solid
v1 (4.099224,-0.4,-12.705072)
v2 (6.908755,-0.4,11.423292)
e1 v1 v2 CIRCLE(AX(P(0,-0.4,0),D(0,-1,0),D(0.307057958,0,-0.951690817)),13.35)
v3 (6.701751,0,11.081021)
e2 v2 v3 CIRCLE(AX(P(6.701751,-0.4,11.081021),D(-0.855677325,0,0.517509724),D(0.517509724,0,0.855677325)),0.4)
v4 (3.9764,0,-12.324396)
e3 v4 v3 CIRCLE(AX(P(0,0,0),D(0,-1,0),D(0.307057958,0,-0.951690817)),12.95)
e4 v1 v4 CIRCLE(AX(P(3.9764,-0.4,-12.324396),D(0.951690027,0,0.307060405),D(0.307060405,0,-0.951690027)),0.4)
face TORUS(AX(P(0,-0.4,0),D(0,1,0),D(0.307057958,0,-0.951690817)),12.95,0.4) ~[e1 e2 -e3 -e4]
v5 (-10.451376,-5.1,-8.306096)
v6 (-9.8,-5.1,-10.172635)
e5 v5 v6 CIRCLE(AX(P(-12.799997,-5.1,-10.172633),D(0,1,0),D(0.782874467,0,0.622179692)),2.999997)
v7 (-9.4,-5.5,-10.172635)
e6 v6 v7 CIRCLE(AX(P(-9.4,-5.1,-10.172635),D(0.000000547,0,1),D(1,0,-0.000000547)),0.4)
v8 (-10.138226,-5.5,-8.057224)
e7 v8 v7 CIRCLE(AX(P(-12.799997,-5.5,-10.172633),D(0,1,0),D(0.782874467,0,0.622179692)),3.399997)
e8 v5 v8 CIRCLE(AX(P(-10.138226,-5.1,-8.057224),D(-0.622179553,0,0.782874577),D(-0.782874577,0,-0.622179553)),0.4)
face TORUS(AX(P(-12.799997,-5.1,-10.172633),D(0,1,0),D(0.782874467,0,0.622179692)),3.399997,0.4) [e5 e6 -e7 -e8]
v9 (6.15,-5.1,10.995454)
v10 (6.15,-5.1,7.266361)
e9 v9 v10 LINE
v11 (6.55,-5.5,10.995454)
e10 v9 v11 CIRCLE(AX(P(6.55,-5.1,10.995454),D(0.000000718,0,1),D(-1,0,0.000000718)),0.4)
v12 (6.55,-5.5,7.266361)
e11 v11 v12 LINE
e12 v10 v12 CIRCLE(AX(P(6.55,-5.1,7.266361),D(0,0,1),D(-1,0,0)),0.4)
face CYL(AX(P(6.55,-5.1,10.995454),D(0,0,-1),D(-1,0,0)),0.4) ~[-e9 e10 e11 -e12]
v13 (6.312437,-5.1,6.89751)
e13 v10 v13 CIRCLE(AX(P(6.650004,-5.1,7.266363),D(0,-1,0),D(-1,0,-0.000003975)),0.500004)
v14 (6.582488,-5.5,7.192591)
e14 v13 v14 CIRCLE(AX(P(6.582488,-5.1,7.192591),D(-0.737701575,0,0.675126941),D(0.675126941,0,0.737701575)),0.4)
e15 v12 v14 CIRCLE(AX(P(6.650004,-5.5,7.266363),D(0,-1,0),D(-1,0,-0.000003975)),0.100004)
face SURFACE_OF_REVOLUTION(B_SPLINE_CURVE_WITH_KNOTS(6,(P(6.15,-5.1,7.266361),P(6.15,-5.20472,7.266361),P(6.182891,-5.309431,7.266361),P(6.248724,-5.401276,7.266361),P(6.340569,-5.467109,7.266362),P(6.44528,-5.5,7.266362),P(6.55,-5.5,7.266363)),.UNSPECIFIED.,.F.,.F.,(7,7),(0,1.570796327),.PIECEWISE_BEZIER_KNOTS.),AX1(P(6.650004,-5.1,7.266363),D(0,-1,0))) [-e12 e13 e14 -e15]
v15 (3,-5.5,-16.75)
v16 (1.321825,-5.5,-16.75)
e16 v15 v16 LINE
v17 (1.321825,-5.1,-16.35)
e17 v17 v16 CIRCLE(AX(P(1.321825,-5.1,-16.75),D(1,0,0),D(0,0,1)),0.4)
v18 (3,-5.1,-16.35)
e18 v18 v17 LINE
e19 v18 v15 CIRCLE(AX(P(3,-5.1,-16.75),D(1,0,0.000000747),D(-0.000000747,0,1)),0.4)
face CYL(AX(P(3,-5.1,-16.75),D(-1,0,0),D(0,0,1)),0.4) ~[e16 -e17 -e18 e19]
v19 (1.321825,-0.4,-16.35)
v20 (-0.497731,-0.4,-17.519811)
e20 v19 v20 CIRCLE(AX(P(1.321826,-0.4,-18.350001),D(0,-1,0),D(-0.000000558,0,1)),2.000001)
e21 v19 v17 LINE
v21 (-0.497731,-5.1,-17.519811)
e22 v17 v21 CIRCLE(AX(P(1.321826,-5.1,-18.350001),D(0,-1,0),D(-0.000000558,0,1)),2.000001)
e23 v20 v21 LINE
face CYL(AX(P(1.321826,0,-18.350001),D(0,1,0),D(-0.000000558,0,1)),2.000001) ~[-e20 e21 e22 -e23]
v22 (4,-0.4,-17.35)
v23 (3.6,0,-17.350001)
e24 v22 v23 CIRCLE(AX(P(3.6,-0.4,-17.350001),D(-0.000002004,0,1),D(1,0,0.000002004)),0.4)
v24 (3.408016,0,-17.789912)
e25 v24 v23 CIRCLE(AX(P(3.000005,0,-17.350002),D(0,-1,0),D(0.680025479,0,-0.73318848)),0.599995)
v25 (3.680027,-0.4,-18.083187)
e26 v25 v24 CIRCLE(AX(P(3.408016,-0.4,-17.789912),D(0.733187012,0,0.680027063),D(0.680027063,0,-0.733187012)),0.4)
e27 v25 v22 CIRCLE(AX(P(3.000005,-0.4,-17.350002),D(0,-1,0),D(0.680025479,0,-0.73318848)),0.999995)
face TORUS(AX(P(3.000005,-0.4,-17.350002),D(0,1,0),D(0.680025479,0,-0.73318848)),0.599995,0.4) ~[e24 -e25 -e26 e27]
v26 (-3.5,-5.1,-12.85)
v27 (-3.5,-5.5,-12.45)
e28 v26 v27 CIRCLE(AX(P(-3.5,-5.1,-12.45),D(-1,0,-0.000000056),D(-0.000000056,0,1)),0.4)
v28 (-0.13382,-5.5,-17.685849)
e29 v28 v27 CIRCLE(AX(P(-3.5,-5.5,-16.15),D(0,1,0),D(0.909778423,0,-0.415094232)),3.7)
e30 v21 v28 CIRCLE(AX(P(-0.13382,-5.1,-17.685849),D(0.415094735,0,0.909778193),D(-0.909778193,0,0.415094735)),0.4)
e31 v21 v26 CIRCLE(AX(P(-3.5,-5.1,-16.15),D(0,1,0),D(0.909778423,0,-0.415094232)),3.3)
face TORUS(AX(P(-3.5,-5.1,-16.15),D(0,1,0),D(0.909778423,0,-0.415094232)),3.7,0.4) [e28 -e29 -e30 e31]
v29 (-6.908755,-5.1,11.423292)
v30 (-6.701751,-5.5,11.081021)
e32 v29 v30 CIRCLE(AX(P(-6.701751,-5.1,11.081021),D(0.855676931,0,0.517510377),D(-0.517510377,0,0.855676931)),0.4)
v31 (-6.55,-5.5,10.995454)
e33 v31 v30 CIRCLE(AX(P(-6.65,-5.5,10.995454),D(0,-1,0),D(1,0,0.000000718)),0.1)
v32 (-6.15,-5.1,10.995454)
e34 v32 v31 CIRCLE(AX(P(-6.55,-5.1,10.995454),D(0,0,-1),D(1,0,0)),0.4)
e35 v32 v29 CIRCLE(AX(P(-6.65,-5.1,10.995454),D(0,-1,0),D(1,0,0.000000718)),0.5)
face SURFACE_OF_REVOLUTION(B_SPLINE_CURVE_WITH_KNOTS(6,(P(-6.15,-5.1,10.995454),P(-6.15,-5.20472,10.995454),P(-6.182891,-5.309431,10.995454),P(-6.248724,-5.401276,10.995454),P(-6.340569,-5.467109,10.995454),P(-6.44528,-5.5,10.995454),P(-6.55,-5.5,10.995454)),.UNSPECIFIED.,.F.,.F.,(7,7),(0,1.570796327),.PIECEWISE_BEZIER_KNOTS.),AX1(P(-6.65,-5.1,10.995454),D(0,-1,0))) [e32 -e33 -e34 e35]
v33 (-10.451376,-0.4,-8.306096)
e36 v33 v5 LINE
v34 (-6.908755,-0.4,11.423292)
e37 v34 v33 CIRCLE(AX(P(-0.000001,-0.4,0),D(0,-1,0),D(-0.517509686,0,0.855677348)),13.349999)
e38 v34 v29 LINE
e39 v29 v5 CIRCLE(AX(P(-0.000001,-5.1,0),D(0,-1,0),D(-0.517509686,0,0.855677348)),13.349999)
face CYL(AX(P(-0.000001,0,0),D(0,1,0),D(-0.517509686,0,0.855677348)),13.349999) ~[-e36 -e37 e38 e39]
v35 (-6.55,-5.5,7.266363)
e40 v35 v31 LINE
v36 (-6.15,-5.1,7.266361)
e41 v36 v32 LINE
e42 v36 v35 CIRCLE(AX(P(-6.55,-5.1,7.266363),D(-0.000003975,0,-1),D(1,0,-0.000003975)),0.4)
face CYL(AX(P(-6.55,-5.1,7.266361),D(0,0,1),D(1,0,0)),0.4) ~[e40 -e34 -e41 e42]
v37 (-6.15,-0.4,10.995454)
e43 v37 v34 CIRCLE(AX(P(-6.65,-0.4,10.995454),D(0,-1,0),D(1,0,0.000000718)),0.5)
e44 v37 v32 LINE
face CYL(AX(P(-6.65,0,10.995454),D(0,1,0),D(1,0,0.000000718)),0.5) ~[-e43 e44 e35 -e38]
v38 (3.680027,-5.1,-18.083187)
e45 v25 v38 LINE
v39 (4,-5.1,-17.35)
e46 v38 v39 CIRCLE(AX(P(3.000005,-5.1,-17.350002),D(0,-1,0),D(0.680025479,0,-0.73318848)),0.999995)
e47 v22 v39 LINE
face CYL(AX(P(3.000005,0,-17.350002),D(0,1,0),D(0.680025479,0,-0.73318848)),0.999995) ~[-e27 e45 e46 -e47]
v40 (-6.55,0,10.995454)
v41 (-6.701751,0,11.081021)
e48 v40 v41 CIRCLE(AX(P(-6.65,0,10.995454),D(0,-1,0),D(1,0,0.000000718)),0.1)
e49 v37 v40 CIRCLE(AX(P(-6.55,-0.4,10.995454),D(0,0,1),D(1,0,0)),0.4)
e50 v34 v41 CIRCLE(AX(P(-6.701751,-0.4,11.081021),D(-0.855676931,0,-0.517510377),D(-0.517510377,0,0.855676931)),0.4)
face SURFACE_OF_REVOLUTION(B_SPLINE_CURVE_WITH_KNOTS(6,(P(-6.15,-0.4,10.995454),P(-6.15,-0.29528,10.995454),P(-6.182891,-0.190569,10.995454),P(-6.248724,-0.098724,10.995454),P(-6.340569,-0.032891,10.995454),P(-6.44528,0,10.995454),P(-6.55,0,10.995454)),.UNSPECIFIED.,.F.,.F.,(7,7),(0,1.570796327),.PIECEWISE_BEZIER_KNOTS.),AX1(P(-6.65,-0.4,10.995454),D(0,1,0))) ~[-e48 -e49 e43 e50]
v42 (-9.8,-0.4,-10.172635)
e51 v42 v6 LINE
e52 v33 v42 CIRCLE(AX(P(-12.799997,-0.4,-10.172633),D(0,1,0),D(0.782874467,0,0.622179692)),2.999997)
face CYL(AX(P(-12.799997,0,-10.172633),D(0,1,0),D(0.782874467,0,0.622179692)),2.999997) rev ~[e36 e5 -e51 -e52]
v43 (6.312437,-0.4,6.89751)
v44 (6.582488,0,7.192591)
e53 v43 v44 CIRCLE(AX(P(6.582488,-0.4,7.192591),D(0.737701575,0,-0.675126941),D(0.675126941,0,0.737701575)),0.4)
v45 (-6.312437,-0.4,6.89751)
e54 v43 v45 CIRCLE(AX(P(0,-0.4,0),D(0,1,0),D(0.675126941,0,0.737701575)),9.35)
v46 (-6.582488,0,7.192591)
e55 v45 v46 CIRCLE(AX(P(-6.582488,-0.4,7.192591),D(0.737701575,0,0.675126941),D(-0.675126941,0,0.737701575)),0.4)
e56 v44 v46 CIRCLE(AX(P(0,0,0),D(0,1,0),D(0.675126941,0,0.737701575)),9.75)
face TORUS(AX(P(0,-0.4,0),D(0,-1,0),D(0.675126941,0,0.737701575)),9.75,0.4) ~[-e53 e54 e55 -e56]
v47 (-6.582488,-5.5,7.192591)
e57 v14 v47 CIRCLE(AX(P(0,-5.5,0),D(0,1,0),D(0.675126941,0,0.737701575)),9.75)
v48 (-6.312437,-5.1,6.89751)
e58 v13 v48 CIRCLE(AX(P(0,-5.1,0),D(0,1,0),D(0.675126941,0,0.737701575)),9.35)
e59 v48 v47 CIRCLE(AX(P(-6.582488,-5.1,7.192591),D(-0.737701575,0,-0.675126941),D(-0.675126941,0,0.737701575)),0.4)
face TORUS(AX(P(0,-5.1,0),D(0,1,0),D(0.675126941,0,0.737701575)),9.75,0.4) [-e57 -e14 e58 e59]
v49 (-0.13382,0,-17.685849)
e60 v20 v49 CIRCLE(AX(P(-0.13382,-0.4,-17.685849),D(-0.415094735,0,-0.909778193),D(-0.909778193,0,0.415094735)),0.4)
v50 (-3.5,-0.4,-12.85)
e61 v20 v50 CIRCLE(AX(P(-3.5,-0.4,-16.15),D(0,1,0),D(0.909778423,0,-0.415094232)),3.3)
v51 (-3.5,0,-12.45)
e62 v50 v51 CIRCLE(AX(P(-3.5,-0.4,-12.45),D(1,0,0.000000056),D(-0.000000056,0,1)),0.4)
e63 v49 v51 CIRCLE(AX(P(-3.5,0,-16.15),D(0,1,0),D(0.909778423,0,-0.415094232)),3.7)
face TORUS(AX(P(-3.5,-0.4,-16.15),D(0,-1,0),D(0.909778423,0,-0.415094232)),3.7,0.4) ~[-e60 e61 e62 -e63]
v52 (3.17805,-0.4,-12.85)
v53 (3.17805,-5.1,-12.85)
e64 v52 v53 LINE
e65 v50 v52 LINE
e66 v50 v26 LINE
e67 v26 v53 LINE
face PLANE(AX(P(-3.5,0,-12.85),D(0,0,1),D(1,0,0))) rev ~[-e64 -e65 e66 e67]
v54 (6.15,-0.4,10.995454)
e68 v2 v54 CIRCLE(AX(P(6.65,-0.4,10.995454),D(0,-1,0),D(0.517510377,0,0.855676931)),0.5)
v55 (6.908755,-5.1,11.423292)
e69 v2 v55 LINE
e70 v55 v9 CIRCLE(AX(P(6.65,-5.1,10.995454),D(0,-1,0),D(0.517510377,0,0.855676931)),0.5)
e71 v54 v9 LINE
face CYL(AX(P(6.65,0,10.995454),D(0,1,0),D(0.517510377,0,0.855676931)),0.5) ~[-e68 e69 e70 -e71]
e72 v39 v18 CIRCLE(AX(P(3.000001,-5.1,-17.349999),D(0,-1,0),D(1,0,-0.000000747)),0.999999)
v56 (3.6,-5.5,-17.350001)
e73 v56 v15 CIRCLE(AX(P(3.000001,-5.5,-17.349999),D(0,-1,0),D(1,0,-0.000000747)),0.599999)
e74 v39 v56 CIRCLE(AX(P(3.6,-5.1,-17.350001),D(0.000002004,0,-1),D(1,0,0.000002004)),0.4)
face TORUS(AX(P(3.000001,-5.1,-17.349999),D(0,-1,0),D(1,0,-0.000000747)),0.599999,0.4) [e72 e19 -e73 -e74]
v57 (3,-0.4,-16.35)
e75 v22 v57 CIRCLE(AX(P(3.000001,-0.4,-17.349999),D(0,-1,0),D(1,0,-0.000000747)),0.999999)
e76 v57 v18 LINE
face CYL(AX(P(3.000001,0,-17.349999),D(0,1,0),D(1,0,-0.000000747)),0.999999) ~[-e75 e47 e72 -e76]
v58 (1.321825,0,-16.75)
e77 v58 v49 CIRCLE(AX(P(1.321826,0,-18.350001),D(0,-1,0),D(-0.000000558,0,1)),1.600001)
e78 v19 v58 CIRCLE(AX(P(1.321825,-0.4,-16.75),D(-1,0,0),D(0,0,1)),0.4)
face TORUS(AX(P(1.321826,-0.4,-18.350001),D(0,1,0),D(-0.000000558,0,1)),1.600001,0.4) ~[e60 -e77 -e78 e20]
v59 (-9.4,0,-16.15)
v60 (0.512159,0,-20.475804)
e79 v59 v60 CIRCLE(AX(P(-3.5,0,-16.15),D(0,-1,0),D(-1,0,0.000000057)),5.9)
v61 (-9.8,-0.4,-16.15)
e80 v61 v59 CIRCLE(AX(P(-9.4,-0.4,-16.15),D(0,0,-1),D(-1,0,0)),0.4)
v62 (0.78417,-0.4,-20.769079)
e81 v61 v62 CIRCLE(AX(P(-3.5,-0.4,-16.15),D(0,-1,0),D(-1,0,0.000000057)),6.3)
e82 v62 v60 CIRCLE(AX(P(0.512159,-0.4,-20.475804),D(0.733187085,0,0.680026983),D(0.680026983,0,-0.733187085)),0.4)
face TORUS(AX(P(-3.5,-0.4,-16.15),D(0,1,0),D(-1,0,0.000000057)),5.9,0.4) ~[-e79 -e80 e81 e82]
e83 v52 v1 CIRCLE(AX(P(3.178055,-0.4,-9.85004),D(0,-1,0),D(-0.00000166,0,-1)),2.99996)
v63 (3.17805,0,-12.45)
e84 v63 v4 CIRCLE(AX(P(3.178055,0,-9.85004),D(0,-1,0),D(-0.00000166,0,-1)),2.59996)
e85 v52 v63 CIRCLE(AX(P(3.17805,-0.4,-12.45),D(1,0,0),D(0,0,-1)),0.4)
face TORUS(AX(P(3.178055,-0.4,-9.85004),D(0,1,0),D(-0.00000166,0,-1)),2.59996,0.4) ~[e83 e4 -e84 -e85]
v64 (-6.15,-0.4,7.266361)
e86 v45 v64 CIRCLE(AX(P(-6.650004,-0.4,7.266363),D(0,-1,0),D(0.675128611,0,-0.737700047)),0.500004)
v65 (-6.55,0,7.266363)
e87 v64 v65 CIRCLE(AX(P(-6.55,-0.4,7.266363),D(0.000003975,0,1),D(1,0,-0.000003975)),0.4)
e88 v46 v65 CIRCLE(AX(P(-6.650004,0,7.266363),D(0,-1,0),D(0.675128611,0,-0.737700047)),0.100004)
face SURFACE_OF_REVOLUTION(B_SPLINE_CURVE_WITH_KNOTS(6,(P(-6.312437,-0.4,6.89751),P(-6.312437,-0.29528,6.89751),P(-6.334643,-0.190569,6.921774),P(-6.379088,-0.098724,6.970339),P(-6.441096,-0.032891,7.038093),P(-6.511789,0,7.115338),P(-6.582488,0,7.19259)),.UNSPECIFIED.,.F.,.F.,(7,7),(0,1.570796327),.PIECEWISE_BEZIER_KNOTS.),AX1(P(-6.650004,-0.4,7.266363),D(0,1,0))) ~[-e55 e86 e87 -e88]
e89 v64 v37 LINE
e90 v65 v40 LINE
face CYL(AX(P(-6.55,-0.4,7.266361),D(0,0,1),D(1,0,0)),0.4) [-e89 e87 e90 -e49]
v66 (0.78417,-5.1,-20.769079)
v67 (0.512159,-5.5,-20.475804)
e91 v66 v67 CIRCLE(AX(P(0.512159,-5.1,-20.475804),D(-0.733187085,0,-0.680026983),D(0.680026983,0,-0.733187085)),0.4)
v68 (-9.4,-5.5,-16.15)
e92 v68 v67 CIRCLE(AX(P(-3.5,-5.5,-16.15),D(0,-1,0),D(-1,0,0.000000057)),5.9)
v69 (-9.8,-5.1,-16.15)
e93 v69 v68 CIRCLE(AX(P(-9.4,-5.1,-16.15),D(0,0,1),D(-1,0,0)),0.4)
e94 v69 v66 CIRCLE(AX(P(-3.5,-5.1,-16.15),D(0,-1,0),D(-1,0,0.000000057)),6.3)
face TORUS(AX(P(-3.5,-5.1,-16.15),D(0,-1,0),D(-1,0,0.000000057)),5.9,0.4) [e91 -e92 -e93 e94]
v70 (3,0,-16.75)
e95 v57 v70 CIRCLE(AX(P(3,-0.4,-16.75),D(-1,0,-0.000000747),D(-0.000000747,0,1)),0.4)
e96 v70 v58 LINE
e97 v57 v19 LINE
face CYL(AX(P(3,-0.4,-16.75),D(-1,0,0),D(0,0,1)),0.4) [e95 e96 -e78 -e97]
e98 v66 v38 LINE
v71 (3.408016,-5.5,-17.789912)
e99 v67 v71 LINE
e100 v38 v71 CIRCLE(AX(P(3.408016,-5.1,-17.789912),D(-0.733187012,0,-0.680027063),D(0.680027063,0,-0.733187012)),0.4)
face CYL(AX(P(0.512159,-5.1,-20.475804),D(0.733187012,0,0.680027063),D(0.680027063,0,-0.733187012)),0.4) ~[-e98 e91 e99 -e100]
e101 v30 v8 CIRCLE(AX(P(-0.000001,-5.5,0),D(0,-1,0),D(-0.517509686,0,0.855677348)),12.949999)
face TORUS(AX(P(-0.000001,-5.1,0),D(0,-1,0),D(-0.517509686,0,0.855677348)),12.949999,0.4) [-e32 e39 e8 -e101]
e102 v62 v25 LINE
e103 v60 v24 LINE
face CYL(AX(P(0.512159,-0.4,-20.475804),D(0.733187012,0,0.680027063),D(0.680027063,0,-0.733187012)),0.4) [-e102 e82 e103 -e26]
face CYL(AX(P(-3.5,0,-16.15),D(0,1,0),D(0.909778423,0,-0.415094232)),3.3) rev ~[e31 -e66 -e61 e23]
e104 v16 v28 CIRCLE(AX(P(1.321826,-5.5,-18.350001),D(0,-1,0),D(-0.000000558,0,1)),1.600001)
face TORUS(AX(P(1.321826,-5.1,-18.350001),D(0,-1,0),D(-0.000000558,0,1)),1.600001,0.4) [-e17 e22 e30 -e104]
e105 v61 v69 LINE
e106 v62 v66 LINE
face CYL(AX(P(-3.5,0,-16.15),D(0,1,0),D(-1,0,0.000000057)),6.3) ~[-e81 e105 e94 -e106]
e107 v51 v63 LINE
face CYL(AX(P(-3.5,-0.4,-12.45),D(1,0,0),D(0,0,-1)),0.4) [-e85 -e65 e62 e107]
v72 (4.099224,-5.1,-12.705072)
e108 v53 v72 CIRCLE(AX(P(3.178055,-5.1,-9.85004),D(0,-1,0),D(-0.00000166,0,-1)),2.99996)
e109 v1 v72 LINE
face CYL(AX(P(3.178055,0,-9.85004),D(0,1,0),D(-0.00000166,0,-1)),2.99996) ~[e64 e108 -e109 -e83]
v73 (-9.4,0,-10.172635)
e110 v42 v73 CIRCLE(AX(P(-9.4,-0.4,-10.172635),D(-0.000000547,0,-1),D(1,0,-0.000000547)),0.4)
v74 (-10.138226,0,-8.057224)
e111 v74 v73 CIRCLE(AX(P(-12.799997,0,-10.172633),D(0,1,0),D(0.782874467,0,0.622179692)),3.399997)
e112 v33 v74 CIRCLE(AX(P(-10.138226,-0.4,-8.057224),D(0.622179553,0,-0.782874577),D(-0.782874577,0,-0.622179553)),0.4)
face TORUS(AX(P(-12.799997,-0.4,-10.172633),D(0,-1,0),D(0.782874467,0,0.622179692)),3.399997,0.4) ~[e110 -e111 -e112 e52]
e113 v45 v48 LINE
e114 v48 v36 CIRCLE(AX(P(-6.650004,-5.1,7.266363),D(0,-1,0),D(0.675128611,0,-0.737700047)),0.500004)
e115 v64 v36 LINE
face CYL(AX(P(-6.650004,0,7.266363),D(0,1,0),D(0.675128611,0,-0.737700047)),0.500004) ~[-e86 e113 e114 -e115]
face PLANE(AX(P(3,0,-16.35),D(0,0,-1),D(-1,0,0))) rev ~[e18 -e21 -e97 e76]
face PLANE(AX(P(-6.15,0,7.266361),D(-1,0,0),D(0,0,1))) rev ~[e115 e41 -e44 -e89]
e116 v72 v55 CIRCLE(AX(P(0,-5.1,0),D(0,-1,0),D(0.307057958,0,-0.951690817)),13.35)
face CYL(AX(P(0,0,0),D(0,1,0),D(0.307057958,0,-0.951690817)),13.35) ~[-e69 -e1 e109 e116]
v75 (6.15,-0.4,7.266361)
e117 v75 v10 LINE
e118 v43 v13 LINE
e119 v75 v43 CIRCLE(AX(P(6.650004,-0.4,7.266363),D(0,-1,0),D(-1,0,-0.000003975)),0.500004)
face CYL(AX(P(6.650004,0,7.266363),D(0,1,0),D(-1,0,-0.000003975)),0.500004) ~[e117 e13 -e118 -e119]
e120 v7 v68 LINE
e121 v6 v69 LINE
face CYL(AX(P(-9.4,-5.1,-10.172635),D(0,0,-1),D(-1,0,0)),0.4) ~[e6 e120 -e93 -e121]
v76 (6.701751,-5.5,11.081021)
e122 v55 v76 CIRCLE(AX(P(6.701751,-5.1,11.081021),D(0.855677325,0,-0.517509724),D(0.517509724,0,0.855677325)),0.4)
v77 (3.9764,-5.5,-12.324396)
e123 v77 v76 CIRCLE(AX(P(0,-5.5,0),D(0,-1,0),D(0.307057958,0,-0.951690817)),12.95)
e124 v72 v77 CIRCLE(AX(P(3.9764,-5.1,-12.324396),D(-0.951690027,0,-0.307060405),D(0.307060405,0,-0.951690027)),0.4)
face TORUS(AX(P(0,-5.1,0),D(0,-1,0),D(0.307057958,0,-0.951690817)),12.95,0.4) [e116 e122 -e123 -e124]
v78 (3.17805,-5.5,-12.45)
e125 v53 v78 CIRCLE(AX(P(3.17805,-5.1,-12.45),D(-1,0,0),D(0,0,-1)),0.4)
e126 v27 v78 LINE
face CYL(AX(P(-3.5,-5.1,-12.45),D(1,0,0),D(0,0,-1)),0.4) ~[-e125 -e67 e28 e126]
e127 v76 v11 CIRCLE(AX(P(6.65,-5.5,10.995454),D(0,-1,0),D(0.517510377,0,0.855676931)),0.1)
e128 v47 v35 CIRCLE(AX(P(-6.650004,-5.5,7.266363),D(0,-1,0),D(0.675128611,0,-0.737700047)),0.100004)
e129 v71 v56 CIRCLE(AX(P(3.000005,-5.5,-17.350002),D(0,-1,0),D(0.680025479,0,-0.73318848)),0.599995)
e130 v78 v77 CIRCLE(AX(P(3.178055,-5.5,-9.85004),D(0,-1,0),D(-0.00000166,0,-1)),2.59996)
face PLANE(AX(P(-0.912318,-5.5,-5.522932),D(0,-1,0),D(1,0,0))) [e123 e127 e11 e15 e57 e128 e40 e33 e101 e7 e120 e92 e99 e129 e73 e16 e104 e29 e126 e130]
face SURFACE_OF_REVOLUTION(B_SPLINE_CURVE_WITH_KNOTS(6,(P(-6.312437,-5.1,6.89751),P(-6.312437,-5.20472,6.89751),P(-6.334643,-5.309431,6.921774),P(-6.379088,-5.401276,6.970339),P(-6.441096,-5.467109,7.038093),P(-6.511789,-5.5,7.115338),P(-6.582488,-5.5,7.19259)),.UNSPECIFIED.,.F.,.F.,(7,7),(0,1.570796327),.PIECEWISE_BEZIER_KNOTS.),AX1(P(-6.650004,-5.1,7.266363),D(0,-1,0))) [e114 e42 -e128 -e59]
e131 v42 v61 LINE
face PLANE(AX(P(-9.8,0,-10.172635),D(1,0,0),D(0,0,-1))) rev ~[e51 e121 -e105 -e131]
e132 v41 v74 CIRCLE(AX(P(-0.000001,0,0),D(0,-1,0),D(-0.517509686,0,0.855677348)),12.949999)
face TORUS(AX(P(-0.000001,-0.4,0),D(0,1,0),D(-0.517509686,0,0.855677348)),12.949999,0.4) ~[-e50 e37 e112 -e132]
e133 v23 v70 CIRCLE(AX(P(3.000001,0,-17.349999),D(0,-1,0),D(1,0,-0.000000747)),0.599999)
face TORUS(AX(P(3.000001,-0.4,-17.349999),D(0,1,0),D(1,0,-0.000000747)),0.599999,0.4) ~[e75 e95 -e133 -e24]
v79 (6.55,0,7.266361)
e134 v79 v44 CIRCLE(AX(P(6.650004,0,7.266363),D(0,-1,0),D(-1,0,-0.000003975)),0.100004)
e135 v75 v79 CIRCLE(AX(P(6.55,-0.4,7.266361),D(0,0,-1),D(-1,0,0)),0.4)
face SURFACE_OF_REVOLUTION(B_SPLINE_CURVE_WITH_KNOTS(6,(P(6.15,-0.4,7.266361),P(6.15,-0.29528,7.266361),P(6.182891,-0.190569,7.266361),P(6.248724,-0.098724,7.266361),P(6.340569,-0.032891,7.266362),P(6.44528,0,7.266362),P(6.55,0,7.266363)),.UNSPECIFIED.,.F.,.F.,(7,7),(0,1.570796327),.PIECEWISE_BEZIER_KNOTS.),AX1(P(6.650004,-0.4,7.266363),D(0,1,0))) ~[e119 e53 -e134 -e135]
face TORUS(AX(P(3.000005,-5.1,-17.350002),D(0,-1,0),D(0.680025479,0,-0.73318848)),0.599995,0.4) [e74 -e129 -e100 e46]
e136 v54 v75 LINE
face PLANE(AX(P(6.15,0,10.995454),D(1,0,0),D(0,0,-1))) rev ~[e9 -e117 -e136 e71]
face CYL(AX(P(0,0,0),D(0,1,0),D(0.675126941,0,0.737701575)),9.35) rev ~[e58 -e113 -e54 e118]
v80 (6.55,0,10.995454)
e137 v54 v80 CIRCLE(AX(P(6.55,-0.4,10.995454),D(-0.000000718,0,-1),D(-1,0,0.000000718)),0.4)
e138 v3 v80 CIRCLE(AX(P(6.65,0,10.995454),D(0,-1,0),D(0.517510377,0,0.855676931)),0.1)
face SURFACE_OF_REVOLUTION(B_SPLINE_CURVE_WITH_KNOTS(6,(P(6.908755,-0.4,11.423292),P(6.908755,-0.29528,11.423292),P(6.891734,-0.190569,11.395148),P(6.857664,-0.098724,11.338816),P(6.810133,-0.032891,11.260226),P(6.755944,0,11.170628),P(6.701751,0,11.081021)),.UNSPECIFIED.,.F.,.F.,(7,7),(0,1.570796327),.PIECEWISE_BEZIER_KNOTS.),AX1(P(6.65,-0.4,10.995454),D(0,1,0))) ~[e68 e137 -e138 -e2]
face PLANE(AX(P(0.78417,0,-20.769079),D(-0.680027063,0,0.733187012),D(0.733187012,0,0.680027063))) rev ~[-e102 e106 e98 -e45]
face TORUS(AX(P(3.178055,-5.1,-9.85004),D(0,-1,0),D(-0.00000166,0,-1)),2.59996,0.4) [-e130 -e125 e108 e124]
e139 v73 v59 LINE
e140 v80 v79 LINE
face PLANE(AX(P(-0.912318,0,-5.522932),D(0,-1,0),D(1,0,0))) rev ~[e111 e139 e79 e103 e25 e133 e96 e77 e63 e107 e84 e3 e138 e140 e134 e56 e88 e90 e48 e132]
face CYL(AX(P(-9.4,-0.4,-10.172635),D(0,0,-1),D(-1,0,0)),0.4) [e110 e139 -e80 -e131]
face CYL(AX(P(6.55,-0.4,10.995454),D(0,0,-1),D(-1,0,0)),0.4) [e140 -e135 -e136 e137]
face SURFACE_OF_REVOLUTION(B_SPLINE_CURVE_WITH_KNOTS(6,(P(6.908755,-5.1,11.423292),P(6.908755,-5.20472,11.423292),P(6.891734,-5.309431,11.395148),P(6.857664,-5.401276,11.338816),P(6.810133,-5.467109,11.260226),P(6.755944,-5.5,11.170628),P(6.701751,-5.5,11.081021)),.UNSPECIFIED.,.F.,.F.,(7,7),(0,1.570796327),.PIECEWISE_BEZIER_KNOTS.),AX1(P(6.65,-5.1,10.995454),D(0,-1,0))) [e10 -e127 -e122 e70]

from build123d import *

# Parameters (mm, degrees)
F1_DEPTH = 5.5
F2_R     = 0.4


with BuildPart() as f1:
    # F0 (on Front) → F1 (new body)
    with BuildSketch(Plane.XZ):
        with BuildLine():
            ThreePointArc((6.312437, 6.89751), (0, -9.35), (-6.312437, 6.89751))
            ThreePointArc((-6.312437, 6.89751), (-6.192408, 7.064844), (-6.15, 7.266361))
            Line((-6.15, 7.266361), (-6.15, 10.995454))
            ThreePointArc((-6.15, 10.995454), (-6.404416, 11.430986), (-6.908755, 11.423292))
            ThreePointArc((-6.908755, 11.423292), (-13.139853, 2.3594), (-10.451376, -8.306096))
            ThreePointArc((-10.451376, -8.306096), (-9.967521, -9.184169), (-9.8, -10.172635))
            Line((-9.8, -10.172635), (-9.8, -16.15))
            ThreePointArc((-9.8, -16.15), (-6.019894, -21.924092), (0.78417, -20.769079))
            Line((0.78417, -20.769079), (3.680027, -18.083187))
            ThreePointArc((3.680027, -18.083187), (3.916523, -17.749983), (4, -17.35))
            ThreePointArc((4, -17.35), (3.707107, -16.642893), (3, -16.35))
            Line((3, -16.35), (1.321825, -16.35))
            ThreePointArc((1.321825, -16.35), (0.240247, -16.667684), (-0.497731, -17.519811))
            ThreePointArc((-0.497731, -17.519811), (-6.275822, -17.934604), (-3.5, -12.85))
            Line((-3.5, -12.85), (3.17805, -12.85))
            ThreePointArc((3.17805, -12.85), (3.644302, -12.813547), (4.099224, -12.705072))
            ThreePointArc((4.099224, -12.705072), (13.260407, -1.544055), (6.908755, 11.423292))
            ThreePointArc((6.908755, 11.423292), (6.404416, 11.430986), (6.15, 10.995454))
            Line((6.15, 10.995454), (6.15, 7.266361))
            ThreePointArc((6.15, 7.266361), (6.192408, 7.064844), (6.312437, 6.89751))
        make_face()
    extrude(amount=F1_DEPTH)

    # F2
    f2_edges = [f1.edges().sort_by_distance(p)[0] for p in [
        (0, -5.5, -9.35),
        (-6.192408, -5.5, 7.064844),
        (-6.15, -5.5, 9.130907),
        (-6.404416, -5.5, 11.430986),
        (-13.139853, -5.5, 2.3594),
        (-9.967521, -5.5, -9.184169),
        (-9.8, -5.5, -13.161317),
        (-6.019894, -5.5, -21.924092),
        (2.232099, -5.5, -19.426133),
        (3.93091, -5.5, -16.984752),
        (2.160913, -5.5, -16.35),
        (0.240247, -5.5, -16.667684),
        (-6.275822, -5.5, -17.934604),
        (-0.160975, -5.5, -12.85),
        (3.644302, -5.5, -12.813547),
        (13.260407, -5.5, -1.544055),
        (6.404416, -5.5, 11.430986),
        (6.15, -5.5, 9.130907),
        (6.192408, -5.5, 7.064844),
        (0, 0, -9.35),
        (-6.192408, 0, 7.064844),
        (-6.15, 0, 9.130907),
        (-6.404416, 0, 11.430986),
        (-13.139853, 0, 2.3594),
        (-9.967521, 0, -9.184169),
        (-9.8, 0, -13.161317),
        (-6.019894, 0, -21.924092),
        (2.232099, 0, -19.426133),
        (3.93091, 0, -16.984752),
        (2.160913, 0, -16.35),
        (0.240247, 0, -16.667684),
        (-6.275822, 0, -17.934604),
        (-0.160975, 0, -12.85),
        (3.644302, 0, -12.813547),
        (13.260407, 0, -1.544055),
        (6.404416, 0, 11.430986),
        (6.15, 0, 9.130907),
        (6.192408, 0, 7.064844),
    ]]
    fillet(f2_edges, radius=F2_R)


solid = f1.part
